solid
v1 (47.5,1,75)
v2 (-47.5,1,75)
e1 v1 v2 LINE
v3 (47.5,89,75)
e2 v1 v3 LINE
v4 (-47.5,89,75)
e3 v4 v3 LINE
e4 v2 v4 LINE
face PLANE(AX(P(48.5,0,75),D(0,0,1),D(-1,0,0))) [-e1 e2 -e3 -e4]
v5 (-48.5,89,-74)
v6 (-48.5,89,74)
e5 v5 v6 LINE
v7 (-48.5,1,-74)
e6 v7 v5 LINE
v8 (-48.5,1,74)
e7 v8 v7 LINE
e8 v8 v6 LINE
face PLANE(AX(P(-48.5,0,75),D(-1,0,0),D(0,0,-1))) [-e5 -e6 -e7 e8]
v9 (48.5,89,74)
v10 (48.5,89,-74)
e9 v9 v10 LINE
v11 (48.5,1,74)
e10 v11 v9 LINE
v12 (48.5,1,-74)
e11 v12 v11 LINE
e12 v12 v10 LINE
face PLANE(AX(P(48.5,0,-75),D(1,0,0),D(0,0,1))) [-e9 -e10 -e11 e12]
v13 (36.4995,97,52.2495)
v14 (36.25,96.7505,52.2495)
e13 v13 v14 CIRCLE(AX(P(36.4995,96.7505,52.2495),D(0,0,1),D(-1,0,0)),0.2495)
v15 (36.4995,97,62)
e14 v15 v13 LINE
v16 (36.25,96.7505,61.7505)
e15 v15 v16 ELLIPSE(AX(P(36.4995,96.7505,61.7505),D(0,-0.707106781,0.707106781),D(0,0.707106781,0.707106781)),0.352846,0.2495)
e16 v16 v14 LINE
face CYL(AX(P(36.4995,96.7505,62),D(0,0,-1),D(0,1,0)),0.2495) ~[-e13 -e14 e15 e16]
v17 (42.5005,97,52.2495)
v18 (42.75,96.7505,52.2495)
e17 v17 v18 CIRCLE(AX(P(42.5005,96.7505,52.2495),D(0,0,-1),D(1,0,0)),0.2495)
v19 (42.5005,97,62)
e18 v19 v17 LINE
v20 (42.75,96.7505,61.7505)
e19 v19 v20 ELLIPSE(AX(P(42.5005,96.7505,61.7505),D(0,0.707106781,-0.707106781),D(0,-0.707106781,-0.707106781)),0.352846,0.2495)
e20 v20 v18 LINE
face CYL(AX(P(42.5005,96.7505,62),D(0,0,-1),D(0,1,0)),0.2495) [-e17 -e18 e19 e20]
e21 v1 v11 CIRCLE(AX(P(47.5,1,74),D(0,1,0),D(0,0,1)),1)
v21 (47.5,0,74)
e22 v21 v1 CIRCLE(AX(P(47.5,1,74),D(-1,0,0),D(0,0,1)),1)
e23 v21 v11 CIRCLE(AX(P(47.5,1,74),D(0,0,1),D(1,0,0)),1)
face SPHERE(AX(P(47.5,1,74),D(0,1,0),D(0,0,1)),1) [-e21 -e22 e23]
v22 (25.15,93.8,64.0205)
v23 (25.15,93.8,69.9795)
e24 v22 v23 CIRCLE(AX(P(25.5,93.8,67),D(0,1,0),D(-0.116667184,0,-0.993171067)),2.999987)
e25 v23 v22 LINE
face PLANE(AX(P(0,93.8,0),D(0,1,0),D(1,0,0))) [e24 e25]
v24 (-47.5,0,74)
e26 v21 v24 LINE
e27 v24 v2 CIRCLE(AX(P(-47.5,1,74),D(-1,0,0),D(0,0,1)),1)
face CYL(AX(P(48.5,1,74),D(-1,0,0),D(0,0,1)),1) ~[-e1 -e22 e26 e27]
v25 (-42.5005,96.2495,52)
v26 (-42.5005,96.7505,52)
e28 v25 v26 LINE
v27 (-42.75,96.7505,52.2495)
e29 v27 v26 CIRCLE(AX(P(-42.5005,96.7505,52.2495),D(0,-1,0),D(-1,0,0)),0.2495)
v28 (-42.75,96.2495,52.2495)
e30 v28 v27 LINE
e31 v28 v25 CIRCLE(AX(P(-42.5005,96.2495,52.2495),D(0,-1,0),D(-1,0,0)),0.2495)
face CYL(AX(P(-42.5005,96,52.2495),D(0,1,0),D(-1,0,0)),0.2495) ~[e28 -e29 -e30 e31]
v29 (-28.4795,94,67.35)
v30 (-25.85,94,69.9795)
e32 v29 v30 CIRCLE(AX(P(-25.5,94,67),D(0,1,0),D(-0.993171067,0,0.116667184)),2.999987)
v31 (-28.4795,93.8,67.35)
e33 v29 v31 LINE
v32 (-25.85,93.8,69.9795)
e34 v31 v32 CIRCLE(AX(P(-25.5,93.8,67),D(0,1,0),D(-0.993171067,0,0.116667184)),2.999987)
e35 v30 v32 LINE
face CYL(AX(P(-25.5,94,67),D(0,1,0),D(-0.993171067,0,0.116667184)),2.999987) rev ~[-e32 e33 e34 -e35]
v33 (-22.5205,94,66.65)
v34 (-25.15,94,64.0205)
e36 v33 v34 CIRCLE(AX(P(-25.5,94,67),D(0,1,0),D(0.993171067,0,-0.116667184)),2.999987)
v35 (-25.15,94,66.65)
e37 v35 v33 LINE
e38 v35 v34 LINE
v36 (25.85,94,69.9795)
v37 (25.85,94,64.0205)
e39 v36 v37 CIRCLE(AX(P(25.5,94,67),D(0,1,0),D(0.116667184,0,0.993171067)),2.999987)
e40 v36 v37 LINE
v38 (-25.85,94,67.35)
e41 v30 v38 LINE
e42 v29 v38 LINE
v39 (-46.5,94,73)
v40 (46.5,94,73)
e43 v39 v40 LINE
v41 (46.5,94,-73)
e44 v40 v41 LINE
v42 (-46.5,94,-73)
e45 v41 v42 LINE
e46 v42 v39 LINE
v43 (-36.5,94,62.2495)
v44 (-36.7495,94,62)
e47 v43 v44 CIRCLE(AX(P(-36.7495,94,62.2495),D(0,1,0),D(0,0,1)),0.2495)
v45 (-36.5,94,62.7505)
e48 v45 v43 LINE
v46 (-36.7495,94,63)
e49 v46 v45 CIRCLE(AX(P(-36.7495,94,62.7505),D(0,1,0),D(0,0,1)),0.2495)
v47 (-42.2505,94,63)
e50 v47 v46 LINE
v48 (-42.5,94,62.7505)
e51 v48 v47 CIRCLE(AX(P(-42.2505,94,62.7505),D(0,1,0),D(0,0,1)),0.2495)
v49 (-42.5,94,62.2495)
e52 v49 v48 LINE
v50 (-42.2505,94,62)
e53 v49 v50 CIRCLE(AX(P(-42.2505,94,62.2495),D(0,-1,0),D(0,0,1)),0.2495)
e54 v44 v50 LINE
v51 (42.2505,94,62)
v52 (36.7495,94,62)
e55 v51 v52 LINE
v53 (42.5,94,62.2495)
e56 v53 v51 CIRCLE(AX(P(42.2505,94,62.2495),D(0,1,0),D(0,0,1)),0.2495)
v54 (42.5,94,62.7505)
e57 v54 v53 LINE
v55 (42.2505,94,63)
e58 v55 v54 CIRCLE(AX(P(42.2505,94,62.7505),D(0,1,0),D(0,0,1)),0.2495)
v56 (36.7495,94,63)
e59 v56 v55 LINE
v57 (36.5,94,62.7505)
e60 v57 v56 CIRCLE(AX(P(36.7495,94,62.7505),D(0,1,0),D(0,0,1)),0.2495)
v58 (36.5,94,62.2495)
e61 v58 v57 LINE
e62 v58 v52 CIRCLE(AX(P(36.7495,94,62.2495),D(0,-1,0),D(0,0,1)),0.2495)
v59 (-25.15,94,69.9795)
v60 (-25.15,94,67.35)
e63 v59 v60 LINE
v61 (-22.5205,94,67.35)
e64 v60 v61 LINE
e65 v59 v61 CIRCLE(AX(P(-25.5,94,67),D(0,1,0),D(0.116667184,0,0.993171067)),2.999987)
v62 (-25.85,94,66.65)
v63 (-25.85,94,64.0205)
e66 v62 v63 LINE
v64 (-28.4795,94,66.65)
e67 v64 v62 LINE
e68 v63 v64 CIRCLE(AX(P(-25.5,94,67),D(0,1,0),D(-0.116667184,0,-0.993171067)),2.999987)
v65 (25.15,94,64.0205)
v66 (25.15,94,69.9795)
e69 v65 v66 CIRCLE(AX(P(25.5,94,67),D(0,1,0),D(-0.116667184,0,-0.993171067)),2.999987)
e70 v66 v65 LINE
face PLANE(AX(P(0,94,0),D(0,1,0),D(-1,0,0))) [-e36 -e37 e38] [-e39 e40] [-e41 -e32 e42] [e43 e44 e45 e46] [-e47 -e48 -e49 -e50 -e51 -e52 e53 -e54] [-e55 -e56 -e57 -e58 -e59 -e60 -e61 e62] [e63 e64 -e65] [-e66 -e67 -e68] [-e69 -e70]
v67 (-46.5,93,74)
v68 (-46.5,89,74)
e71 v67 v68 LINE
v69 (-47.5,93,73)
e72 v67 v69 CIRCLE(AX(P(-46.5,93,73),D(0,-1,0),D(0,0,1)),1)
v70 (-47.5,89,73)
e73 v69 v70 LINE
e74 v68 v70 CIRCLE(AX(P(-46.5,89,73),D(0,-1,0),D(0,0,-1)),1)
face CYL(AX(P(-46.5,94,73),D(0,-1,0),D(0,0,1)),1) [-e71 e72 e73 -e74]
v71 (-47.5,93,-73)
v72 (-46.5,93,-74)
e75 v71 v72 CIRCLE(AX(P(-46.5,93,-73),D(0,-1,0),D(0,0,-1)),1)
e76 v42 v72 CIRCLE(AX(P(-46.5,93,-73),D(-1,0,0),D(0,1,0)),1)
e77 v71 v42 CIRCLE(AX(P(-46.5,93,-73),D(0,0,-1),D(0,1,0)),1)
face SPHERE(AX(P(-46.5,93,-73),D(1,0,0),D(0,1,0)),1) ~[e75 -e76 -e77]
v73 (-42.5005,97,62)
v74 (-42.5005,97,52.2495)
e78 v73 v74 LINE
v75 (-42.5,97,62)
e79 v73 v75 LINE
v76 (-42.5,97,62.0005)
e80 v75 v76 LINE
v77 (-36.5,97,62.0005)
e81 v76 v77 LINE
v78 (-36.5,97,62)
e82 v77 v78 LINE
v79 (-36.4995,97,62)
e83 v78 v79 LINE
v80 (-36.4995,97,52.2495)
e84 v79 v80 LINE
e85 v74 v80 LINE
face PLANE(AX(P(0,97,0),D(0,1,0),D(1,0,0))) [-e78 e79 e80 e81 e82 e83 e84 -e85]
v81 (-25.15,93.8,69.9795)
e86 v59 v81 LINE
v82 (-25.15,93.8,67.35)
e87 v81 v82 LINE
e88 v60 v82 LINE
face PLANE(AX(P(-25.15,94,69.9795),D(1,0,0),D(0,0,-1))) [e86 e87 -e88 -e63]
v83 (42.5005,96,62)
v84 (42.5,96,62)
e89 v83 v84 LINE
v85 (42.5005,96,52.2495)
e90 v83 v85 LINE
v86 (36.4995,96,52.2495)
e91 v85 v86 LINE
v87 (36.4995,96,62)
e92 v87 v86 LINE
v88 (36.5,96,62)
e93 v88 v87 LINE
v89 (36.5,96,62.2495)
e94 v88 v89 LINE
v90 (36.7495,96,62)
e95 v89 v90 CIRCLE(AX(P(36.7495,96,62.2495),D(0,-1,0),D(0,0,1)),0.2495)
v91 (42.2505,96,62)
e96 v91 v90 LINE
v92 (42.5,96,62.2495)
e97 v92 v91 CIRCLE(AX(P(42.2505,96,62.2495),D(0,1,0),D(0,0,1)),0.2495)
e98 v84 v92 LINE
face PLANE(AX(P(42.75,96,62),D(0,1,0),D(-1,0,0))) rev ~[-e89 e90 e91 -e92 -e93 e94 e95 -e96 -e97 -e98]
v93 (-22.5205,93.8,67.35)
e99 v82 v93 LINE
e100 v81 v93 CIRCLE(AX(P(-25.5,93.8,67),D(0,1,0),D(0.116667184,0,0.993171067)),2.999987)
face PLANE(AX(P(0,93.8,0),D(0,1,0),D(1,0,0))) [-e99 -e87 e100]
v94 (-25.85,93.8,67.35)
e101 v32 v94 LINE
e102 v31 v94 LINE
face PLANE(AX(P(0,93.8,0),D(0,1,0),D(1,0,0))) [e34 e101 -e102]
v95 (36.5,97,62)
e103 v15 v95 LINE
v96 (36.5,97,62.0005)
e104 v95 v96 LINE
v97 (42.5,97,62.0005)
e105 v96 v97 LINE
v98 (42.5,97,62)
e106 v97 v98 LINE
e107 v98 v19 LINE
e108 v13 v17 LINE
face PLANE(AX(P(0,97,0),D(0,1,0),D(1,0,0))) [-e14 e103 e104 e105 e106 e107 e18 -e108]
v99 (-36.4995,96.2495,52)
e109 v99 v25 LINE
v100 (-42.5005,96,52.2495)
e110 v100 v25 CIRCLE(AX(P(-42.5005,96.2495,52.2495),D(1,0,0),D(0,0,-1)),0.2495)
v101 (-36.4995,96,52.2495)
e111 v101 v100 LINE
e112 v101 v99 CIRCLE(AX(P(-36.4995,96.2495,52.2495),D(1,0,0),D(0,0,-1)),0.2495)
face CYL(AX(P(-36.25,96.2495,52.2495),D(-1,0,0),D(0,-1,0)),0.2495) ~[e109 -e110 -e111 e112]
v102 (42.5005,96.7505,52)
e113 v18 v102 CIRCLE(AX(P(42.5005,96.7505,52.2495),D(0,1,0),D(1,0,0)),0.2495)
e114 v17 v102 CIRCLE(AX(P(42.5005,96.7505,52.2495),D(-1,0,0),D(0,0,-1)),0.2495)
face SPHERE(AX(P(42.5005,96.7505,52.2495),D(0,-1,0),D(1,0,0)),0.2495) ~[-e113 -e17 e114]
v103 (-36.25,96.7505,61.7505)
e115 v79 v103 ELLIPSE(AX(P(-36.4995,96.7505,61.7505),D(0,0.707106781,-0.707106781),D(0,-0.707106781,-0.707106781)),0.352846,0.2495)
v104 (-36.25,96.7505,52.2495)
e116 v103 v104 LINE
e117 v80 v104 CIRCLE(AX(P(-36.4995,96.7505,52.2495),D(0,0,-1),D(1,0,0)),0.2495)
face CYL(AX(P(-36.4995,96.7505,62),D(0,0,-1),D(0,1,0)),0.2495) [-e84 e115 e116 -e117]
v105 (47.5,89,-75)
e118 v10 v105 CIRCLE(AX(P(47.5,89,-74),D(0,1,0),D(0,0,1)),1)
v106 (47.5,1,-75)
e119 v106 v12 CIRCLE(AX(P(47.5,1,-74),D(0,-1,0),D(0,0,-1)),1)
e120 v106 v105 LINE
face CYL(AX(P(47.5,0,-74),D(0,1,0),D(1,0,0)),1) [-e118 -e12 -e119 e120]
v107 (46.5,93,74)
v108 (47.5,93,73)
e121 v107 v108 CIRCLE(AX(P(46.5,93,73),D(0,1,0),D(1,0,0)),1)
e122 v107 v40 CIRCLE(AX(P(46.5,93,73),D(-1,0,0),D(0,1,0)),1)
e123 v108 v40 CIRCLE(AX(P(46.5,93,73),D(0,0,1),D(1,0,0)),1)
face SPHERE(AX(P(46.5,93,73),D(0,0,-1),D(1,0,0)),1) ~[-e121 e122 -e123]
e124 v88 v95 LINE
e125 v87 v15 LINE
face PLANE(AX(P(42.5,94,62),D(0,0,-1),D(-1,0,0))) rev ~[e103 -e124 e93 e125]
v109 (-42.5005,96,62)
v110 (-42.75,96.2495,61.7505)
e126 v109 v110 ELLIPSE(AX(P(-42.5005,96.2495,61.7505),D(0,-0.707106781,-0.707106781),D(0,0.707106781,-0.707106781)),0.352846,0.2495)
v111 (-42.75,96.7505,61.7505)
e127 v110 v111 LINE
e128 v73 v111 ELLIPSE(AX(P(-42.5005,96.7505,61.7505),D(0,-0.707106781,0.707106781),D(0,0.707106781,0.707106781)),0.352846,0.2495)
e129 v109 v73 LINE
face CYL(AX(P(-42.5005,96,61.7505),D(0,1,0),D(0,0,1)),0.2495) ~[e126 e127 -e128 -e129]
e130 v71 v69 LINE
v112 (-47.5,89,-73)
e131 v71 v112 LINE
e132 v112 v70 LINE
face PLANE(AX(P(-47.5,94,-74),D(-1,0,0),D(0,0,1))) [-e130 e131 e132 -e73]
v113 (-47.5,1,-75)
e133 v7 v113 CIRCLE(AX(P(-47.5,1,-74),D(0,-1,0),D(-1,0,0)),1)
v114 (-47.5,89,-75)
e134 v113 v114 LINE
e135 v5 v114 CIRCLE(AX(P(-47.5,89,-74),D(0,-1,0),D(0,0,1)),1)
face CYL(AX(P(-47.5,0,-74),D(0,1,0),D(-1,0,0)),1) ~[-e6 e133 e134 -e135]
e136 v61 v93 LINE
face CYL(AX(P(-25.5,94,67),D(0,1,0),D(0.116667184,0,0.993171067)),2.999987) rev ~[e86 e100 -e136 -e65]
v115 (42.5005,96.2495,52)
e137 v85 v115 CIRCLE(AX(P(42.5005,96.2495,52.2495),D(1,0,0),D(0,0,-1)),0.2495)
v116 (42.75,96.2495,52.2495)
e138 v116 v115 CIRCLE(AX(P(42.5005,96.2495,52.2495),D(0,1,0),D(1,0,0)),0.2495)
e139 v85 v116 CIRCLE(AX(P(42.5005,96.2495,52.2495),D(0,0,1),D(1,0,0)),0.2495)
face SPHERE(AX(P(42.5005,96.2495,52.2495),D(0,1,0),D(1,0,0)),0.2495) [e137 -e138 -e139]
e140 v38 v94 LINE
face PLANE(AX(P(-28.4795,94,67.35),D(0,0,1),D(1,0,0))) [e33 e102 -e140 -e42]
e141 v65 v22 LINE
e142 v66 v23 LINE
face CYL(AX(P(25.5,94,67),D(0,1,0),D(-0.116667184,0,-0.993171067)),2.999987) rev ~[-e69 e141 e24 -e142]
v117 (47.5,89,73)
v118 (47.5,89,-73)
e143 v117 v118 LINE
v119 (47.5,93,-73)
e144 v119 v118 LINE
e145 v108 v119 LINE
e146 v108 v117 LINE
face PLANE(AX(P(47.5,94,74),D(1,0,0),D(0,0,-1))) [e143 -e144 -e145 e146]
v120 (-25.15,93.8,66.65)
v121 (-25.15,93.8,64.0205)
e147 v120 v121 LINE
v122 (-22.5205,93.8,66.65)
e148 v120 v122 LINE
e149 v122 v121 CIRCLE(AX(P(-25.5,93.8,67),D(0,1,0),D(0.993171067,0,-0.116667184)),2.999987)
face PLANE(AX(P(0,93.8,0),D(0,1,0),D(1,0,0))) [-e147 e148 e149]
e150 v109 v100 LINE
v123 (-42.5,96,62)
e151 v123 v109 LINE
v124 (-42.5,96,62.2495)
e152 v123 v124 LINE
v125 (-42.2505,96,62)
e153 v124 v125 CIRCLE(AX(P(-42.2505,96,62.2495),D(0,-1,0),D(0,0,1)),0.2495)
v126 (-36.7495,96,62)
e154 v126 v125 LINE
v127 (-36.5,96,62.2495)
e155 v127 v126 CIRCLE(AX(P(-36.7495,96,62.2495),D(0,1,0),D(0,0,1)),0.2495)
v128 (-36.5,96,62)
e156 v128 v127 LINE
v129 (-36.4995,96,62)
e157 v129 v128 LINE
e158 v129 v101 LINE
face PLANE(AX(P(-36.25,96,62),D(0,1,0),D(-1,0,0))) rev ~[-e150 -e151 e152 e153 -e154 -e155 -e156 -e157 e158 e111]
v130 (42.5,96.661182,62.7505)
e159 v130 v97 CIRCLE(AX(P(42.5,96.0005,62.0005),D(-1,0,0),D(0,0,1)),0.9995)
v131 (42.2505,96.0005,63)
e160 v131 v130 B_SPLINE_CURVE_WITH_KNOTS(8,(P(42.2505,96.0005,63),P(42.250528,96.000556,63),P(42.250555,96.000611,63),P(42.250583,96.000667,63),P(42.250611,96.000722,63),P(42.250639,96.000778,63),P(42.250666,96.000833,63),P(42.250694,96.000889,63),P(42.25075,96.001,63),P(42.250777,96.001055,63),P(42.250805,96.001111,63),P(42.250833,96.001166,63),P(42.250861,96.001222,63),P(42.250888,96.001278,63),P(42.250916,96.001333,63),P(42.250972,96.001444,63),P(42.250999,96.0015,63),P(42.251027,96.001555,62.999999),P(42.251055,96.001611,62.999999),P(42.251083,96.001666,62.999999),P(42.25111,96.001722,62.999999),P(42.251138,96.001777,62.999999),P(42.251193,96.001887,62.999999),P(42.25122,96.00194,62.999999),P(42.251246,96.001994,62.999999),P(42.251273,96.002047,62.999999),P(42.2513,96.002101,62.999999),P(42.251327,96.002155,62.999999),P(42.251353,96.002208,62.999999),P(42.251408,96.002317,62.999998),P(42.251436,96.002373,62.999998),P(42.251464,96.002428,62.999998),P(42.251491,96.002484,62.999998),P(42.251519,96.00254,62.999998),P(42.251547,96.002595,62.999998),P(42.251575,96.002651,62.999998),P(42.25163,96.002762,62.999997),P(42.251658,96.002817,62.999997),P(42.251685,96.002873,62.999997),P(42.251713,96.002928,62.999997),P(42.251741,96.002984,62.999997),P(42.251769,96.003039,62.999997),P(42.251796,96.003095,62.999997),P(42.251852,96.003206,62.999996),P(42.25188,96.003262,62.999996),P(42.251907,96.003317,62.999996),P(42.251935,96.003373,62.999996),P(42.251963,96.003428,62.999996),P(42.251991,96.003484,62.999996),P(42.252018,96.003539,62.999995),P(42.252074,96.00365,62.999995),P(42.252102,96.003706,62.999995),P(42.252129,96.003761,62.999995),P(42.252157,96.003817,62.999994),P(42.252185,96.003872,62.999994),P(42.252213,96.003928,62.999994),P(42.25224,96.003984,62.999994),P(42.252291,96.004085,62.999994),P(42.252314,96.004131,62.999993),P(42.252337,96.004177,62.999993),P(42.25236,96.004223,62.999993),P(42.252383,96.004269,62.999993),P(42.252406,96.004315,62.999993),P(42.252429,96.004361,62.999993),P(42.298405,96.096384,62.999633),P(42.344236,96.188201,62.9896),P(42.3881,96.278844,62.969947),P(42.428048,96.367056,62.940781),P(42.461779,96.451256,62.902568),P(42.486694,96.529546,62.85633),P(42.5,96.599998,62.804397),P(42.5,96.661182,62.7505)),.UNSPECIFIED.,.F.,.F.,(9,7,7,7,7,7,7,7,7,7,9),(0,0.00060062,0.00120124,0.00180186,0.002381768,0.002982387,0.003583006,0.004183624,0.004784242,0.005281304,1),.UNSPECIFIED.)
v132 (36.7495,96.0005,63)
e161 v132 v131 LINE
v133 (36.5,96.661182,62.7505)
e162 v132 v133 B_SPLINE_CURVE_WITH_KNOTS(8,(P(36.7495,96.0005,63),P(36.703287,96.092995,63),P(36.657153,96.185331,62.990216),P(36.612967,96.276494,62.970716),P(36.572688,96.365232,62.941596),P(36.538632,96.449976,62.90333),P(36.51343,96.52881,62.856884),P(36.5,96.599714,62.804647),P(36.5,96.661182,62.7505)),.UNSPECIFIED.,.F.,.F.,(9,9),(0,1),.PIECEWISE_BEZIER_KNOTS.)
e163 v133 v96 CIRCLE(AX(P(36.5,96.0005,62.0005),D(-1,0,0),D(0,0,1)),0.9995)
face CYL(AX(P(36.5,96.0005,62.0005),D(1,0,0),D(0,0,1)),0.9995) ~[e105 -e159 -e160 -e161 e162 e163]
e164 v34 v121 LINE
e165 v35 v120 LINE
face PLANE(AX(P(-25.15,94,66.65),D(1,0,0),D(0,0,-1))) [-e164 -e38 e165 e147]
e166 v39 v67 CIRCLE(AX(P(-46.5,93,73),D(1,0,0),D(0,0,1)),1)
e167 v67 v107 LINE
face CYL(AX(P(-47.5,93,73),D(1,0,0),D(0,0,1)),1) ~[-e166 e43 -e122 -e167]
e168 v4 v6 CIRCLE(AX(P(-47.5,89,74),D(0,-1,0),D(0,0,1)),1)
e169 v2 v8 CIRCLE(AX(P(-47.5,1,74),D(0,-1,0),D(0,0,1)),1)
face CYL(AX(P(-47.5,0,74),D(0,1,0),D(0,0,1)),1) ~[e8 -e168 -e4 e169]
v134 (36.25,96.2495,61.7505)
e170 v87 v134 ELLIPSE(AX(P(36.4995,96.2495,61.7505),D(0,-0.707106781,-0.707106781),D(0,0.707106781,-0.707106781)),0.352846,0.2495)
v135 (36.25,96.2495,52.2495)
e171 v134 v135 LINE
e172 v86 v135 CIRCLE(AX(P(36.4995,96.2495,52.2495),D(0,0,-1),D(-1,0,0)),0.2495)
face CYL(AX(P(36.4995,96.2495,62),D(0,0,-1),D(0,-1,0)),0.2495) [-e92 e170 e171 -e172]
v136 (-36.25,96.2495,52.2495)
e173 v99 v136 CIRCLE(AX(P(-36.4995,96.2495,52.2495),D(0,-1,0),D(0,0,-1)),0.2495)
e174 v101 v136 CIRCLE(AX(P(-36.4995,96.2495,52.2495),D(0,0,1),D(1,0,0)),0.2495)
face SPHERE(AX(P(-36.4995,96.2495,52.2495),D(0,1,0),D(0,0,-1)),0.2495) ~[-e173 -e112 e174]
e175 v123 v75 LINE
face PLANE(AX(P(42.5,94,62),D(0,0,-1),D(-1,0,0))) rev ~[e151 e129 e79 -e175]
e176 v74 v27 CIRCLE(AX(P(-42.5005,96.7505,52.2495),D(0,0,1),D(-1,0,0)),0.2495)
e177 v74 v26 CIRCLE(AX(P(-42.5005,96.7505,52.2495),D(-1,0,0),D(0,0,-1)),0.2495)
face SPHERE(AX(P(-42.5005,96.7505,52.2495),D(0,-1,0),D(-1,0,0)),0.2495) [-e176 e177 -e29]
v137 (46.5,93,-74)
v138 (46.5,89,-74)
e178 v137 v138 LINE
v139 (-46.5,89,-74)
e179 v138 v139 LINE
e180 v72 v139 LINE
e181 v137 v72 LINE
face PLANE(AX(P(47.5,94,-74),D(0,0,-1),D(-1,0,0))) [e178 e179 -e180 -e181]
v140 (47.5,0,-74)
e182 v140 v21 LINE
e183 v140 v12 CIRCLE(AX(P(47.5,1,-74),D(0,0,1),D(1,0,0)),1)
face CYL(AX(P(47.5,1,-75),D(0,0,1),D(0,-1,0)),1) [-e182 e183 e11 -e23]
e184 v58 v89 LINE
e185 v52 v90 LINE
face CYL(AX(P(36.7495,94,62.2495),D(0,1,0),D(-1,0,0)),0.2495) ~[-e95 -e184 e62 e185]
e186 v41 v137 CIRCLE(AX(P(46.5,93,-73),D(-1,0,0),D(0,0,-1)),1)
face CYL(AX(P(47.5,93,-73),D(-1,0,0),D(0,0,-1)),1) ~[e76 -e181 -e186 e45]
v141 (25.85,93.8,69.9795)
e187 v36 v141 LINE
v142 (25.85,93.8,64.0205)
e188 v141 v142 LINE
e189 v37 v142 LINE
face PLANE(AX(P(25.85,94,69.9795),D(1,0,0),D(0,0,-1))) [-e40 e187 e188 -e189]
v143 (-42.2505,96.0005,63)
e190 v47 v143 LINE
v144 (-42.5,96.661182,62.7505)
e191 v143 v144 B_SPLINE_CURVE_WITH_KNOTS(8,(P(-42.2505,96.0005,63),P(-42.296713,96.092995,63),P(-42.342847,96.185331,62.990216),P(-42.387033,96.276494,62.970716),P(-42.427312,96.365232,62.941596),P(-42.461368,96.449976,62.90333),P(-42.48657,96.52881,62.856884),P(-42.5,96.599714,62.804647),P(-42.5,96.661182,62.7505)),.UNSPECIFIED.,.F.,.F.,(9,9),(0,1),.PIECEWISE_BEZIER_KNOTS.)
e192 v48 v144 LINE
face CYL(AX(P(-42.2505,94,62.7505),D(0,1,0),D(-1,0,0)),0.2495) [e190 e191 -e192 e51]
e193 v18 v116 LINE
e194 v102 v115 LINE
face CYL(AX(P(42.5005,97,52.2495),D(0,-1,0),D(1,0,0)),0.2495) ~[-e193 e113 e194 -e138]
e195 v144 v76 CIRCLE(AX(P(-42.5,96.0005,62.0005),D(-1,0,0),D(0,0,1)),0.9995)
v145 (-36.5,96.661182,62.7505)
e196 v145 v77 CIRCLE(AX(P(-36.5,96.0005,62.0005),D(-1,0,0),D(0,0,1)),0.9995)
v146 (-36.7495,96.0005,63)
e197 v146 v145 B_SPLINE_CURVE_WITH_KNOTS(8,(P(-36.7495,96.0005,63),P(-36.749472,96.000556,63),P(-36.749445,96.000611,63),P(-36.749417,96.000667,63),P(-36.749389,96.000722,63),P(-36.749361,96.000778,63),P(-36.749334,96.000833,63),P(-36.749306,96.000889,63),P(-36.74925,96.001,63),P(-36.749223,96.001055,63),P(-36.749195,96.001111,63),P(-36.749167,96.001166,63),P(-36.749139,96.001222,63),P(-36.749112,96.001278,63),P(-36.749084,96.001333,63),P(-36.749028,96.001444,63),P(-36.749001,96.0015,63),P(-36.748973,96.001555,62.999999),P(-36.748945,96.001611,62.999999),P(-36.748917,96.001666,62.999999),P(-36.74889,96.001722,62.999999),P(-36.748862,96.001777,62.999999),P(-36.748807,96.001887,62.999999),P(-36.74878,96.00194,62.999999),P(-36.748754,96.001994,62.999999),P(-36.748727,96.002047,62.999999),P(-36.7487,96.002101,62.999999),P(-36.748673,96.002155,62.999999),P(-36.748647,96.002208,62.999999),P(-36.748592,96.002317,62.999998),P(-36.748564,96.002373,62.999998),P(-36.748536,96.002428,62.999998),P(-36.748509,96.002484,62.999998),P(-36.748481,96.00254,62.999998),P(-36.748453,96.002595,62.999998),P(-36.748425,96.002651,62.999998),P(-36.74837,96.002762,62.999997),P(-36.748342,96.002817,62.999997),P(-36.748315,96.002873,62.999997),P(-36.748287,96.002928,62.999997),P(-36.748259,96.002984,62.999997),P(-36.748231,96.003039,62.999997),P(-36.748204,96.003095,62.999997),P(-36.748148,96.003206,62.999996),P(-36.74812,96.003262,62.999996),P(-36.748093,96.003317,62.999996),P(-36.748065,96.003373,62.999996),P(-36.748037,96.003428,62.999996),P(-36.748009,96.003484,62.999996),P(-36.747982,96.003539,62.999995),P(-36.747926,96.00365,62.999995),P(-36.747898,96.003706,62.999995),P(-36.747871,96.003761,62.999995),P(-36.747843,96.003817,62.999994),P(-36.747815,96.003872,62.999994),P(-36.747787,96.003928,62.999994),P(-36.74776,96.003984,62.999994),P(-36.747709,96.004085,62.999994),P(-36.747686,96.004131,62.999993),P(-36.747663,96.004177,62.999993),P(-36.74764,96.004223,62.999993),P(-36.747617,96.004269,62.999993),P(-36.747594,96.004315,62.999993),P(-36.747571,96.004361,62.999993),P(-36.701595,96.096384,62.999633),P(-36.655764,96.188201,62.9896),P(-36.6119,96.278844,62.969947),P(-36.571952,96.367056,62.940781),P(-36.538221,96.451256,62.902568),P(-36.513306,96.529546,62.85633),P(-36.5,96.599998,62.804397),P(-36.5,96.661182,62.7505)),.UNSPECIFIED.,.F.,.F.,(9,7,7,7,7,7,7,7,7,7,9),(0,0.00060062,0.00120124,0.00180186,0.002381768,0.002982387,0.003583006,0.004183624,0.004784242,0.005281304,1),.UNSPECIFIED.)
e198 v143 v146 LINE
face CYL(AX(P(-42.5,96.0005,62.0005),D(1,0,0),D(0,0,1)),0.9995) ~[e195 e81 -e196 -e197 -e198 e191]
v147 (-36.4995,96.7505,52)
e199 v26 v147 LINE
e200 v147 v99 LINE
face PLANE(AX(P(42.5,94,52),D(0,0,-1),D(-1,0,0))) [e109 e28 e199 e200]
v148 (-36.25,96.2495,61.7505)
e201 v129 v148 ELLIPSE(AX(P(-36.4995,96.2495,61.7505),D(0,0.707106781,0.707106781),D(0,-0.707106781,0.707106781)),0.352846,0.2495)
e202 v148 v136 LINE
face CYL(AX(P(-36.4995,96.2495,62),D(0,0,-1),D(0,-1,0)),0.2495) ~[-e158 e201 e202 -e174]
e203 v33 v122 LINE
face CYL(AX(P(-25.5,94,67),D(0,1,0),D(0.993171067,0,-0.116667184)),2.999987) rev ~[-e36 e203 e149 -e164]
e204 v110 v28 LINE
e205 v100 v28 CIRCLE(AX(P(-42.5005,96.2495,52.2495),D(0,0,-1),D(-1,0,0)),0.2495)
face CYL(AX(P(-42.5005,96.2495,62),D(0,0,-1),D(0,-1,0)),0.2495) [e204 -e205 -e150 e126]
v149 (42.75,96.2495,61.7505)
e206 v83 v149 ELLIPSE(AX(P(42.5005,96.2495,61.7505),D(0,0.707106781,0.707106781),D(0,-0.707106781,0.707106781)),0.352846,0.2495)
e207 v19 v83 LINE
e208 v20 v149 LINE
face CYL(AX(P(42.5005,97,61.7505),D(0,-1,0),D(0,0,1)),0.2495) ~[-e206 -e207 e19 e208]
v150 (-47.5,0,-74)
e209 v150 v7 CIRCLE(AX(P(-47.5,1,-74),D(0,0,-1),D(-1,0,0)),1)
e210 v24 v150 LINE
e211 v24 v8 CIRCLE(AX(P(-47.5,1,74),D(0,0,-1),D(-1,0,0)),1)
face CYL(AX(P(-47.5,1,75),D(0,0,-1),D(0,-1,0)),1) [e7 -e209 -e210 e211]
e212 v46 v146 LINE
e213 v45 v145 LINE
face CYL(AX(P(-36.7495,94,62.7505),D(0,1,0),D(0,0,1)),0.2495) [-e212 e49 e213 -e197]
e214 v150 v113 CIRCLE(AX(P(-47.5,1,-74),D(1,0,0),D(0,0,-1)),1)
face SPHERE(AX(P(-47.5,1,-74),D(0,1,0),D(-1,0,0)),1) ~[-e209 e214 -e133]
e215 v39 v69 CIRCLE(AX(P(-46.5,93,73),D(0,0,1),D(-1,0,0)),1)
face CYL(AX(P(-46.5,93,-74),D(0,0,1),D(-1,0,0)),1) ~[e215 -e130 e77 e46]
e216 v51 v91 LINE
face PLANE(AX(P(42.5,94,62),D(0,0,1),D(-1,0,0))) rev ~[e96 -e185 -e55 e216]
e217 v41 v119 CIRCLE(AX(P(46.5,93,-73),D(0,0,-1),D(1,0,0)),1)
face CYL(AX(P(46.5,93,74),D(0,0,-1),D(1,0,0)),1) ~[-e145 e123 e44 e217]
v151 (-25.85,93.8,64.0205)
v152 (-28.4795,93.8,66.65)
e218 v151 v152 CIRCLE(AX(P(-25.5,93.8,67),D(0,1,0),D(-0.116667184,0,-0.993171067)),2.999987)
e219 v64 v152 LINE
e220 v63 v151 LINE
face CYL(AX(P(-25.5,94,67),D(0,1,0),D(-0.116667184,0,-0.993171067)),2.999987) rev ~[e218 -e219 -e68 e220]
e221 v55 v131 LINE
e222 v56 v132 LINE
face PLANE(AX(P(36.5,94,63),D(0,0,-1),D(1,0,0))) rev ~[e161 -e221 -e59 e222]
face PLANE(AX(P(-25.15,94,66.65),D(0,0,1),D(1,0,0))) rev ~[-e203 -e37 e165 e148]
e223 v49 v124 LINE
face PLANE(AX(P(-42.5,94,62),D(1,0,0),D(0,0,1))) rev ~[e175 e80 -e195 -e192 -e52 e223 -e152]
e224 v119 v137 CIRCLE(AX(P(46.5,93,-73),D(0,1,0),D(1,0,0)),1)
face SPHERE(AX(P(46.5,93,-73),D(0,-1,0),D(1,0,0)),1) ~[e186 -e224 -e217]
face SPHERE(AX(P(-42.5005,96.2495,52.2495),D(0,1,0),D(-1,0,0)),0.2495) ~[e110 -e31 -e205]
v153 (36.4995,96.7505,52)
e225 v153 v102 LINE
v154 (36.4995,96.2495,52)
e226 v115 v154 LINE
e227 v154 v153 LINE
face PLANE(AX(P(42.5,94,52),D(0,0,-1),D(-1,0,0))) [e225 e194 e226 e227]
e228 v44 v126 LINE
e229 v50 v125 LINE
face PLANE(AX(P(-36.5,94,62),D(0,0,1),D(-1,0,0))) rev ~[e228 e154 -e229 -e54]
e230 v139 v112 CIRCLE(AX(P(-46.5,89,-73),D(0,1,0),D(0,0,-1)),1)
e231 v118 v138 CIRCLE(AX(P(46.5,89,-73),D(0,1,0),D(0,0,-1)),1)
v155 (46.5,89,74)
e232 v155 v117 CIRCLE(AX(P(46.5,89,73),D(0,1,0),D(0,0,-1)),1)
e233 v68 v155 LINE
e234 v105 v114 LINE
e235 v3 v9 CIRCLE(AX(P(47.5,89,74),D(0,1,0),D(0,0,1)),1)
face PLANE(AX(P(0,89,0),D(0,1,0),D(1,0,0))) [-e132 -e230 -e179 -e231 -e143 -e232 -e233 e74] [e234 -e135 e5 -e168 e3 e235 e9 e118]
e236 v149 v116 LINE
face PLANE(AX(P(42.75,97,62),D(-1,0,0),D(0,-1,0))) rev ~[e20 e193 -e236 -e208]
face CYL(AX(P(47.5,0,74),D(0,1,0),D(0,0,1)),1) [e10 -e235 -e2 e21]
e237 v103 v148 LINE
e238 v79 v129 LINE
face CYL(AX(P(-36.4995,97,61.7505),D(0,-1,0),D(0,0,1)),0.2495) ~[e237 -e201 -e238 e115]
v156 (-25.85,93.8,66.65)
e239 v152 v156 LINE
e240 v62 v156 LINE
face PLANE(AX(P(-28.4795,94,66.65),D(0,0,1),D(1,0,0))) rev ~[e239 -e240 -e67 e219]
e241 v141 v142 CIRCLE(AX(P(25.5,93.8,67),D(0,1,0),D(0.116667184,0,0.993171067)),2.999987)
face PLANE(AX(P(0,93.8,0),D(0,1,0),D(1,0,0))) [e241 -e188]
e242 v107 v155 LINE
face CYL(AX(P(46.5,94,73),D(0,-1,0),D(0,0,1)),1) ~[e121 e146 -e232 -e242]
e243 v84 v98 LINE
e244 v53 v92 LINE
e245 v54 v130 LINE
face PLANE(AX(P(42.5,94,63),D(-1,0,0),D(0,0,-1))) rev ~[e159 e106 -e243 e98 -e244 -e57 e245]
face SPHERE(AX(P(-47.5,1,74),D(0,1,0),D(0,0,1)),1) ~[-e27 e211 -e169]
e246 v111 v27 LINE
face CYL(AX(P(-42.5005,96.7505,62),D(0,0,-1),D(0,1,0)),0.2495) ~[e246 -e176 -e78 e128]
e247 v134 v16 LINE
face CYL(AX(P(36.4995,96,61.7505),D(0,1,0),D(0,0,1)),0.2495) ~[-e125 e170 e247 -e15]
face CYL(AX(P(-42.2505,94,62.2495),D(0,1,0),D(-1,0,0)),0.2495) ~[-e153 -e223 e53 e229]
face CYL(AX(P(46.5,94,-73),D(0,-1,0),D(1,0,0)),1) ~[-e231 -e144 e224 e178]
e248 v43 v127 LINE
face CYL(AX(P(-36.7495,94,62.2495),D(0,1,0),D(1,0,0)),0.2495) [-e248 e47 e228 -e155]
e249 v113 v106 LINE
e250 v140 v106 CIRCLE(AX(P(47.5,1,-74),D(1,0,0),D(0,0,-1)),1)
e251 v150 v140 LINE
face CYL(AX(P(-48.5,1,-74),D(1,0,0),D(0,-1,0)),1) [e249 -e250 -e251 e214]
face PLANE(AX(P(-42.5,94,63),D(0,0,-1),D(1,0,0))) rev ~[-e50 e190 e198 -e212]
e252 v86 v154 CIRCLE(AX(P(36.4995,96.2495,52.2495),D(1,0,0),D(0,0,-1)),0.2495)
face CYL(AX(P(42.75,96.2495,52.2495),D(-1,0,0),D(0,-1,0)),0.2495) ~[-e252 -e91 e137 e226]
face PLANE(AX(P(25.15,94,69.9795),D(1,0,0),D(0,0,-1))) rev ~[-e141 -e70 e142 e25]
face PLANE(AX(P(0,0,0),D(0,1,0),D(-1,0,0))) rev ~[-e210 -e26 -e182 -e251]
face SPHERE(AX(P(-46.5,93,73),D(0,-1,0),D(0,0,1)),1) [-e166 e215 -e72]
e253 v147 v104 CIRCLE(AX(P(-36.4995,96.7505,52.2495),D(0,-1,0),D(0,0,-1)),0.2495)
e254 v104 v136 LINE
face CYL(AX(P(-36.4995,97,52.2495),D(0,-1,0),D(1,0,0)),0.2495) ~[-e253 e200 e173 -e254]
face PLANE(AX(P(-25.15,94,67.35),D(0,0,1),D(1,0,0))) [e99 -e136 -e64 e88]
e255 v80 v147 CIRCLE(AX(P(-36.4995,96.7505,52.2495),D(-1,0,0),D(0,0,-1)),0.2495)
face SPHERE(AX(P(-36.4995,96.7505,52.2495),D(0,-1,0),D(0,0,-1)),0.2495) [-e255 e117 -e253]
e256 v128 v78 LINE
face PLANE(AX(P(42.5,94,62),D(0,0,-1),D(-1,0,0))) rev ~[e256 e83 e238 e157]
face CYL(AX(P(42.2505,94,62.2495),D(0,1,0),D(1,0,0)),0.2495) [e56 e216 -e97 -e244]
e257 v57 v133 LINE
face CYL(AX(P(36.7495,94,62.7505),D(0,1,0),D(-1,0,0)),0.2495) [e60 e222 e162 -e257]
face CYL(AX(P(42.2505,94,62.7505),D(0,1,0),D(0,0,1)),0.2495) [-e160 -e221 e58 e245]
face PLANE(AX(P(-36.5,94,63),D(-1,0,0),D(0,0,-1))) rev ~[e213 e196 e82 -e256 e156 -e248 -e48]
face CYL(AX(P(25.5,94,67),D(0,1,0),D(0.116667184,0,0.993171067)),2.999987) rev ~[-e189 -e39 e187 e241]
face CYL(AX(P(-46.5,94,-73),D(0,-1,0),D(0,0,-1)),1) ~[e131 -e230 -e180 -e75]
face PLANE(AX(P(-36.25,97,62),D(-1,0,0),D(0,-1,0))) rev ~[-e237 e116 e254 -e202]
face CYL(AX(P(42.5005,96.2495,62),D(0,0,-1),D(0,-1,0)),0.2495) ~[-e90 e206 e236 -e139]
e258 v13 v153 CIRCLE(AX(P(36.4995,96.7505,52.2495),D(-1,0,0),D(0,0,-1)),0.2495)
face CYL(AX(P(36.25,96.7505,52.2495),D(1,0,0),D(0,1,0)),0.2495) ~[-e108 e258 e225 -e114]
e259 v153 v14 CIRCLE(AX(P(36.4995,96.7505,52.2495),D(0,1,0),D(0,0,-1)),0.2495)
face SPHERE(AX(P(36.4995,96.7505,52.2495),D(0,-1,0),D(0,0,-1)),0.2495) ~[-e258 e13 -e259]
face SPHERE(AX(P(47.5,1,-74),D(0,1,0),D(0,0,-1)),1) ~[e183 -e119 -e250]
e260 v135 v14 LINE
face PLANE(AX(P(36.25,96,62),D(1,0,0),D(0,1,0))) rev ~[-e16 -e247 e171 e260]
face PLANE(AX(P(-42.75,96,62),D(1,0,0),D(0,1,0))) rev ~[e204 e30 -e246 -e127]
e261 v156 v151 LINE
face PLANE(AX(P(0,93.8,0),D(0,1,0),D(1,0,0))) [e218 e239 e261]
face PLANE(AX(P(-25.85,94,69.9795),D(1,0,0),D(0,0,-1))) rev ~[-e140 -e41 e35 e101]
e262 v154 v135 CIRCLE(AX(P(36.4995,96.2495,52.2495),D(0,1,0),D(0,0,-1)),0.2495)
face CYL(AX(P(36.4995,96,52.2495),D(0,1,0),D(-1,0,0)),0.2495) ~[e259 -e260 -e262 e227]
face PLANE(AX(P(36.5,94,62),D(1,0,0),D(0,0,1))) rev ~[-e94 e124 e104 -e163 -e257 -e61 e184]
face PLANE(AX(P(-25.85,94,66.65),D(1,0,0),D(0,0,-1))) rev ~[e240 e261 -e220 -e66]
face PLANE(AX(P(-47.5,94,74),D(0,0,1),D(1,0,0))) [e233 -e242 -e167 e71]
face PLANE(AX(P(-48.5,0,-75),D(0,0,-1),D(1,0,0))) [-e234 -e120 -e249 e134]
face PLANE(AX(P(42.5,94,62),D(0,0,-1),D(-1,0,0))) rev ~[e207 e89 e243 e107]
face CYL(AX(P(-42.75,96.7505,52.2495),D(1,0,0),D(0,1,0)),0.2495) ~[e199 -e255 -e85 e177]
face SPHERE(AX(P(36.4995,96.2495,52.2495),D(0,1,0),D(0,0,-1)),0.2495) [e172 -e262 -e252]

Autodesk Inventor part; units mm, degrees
ref_plane "YZ Plane" through (0, 0, 0) normal (1, 0, 0) x (0, 1, 0)
ref_plane "XZ Plane" through (0, 0, 0) normal (0, 1, 0) x (-1, 0, 0)
ref_plane "XY Plane" through (0, 0, 0) normal (0, 0, 1) x (1, 0, 0)
sketch "Sketch1" plane through (0, 0, 0) normal (0, 1, 0) x (-1, 0, 0)
  line L0 (-48.5, 75) -> (48.5, 75)
  line L1 (48.5, 75) -> (48.5, -75)
  line L2 (48.5, -75) -> (-48.5, -75)
  line L3 (-48.5, -75) -> (-48.5, 75)
  line L4 (-48.5, 75) -> (48.5, -75) construction
  line L5 (48.5, 75) -> (-48.5, -75) construction
  point P0 (0, 0)
  dimension "d0" = 97
  dimension "d1" = 150
extrude "Extrusion1" add sketch "Sketch1" along normal blind 94
sketch "Sketch2" plane through (0, 94, 0) normal (0, 1, 0) x (1, 0, 0)
  line L0 (-48.5, -75) -> (48.5, -75) construction
  line L1 (48.5, -75) -> (48.5, 75) construction
  line L2 (48.5, 75) -> (-48.5, 75) construction
  line L3 (-48.5, 75) -> (-48.5, -75) construction
  line L4 (-47.5, -74) -> (47.5, -74)
  line L5 (47.5, -74) -> (47.5, 74)
  line L6 (47.5, 74) -> (-47.5, 74)
  line L7 (-47.5, 74) -> (-47.5, -74)
  line L8 (-48.5, 75) -> (-48.5, -75) projected
  line L9 (-48.5, -75) -> (48.5, -75)
  line L10 (48.5, -75) -> (48.5, 75)
  line L11 (48.5, 75) -> (-48.5, 75)
  line L12 (-48.5, 75) -> (-48.5, -75)
  point P0 (0, 0)
  dimension "d4" = 1
extrude "Extrusion2" cut sketch "Sketch2" against normal blind 5
fillet "Fillet1" radius 1 16 edges at (48.5, 44.5, -75) (48.5, 44.5, 75) (-48.5, 44.5, -75) (-48.5, 44.5, 75) (0, 0, 75) (-48.5, 0, 0) (0, 0, -75) (48.5, 0, 0) (47.5, 91.5, -74) (47.5, 94, 0) (0, 94, -74) (47.5, 91.5, 74) (-47.5, 91.5, 74) (0, 94, 74) (-47.5, 94, 0) (-47.5, 91.5, -74)
sketch "Sketch3" plane through (0, 94, 0) normal (0, 1, 0) x (1, 0, 0)
  line L0 (47.5, -73) -> (47.5, 73) construction
  line L1 (-46.5, -74) -> (46.5, -74) construction
  line L2 (-47.5, 73) -> (-47.5, -73) construction
  line L3 (-42.5, -63) -> (-36.5, -63)
  line L4 (-36.5, -63) -> (-36.5, -62)
  line L5 (-36.5, -62) -> (-42.5, -62)
  line L6 (-42.5, -62) -> (-42.5, -63)
  line L7 (-42.5, -63) -> (-36.5, -62) construction
  line L8 (-36.5, -63) -> (-42.5, -62) construction
  line L9 (36.5, -63) -> (42.5, -63)
  line L10 (42.5, -63) -> (42.5, -62)
  line L11 (42.5, -62) -> (36.5, -62)
  line L12 (36.5, -62) -> (36.5, -63)
  line L13 (36.5, -63) -> (42.5, -62) construction
  line L14 (42.5, -63) -> (36.5, -62) construction
  point P0 (0, 0)
  point P1 (-39.5, -62.5)
  point P2 (39.5, -62.5)
  dimension "d12" = 6
  dimension "d13" = 1
  dimension "d14" = 6
  dimension "d15" = 1
  dimension "d16" = 11
  dimension "d17" = 5
  dimension "d18" = 5
  dimension "d19" = 11
extrude "Extrusion3" add sketch "Sketch3" along normal blind 3
sketch "Sketch4" plane through (42.5, 94, 62) normal (0, 0, -1) x (-1, 0, 0)
  line L0 (-0.25, 2) -> (6.25, 2)
  line L1 (6.25, 2) -> (6.25, 3)
  line L2 (6.25, 3) -> (-0.25, 3)
  line L3 (-0.25, 3) -> (-0.25, 2)
  line L4 (-0.25, 2) -> (6.25, 3) construction
  line L5 (6.25, 2) -> (-0.25, 3) construction
  line L6 (0, 3) -> (6, 3) construction
  line L7 (78.75, 2) -> (85.25, 2)
  line L8 (85.25, 2) -> (85.25, 3)
  line L9 (85.25, 3) -> (78.75, 3)
  line L10 (78.75, 3) -> (78.75, 2)
  line L11 (78.75, 2) -> (85.25, 3) construction
  line L12 (85.25, 2) -> (78.75, 3) construction
  line L13 (79, 3) -> (85, 3) construction
  point P0 (42.5, -94)
  point P1 (3, 2.5)
  point P2 (3, 3)
  point P3 (82, 2.5)
  point P4 (82, 3)
  dimension "d22" = 6.5
  dimension "d23" = 1
  dimension "d24" = 6.5
  dimension "d25" = 1
extrude "Extrusion4" add sketch "Sketch4" along normal blind 10
fillet "Fillet2" radius 0.25 28 edges at (42.75, 96.5, 52) (36.25, 96.5, 52) (42.75, 96.5, 62) (36.25, 96.5, 62) (-36.25, 96.5, 52) (-36.25, 96.5, 62) (-42.75, 96.5, 52) (-42.75, 96.5, 62) (-42.75, 97, 57) (-42.75, 96, 57) (-39.5, 97, 52) (-39.5, 96, 52) (-36.25, 96, 57) (-36.25, 97, 57) (-36.5, 95, 62) (-36.5, 95.5, 63) (-42.5, 95, 62) (-42.5, 95.5, 63) (42.75, 97, 57) (42.75, 96, 57) (42.5, 95, 62) (42.5, 95.5, 63) (39.5, 97, 52) (39.5, 96, 52) (36.25, 97, 57) (36.25, 96, 57) (36.5, 95, 62) (36.5, 95.5, 63)
fillet "Fillet2" radius 1 2 edges at (39.5, 97, 63) (-39.5, 97, 63)
sketch "Sketch5" plane through (0, 94, 0) normal (0, 1, 0) x (1, 0, 0)
  line L0 (-46.5, -74) -> (46.5, -74) construction
  line L1 (-47.5, 73) -> (-47.5, -73) construction
  line L2 (47.5, -73) -> (47.5, 73) construction
  line L3 (25.5, -70) -> (25.5, -64) construction
  line L4 (-25.5, -70) -> (-25.5, -64) construction
  line L5 (-28.5, -67) -> (-22.5, -67) construction
  line L6 (-25.85, -69.9795) -> (-25.85, -67.35)
  line L7 (-25.85, -66.65) -> (-25.85, -64.0205)
  line L8 (-25.15, -69.9795) -> (-25.15, -67.35)
  line L9 (-25.15, -66.65) -> (-25.15, -64.0205)
  line L10 (-28.4795, -66.65) -> (-25.85, -66.65)
  line L11 (-25.15, -66.65) -> (-22.5205, -66.65)
  line L12 (-28.4795, -67.35) -> (-25.85, -67.35)
  line L13 (-25.15, -67.35) -> (-22.5205, -67.35)
  arc A0 (-25.85, -64.0205) -> (-28.4795, -66.65) centre (-25.5, -67) ccw
  arc A1 (-22.5205, -66.65) -> (-25.15, -64.0205) centre (-25.5, -67) ccw
  arc A2 (-28.4795, -67.35) -> (-25.85, -69.9795) centre (-25.5, -67) ccw
  arc A3 (-25.15, -69.9795) -> (-22.5205, -67.35) centre (-25.5, -67) ccw
  line L14 (25.15, -69.9795) -> (25.15, -64.0205)
  line L15 (25.85, -69.9795) -> (25.85, -64.0205)
  arc A4 (25.15, -64.0205) -> (25.15, -69.9795) centre (25.5, -67) ccw
  arc A5 (25.85, -69.9795) -> (25.85, -64.0205) centre (25.5, -67) ccw
  point P0 (0, 0)
  dimension "d32" = 7
  dimension "d33" = 22
  dimension "d34" = 7
  dimension "d35" = 22
  dimension "d40" = 3
  dimension "d41" = 3
  dimension "d42" = 3
  dimension "d43" = 3
  dimension "d44" = 0.7
  dimension "d45" = 0.7
  dimension "d46" = 0.7
  dimension "d47" = 0.7
  dimension "d48" = 72.65
  dimension "d49" = 72.65
  dimension "d50" = 73
  dimension "d51" = 22
  dimension "d52" = 7.35
  dimension "d53" = 7
  dimension "d54" = 7.35
  dimension "d55" = 70
  dimension "d56" = 10
  dimension "d57" = 4
  dimension "d58" = 76
  dimension "d59" = 0.35
  dimension "d60" = 0.35
  dimension "d61" = 3
  dimension "d62" = 3
  dimension "d63" = 10
  dimension "d64" = 4
extrude "Extrusion5" cut sketch "Sketch5" against normal blind 0.2
properties part number "NP12-12FR Battery" material "Copper"
